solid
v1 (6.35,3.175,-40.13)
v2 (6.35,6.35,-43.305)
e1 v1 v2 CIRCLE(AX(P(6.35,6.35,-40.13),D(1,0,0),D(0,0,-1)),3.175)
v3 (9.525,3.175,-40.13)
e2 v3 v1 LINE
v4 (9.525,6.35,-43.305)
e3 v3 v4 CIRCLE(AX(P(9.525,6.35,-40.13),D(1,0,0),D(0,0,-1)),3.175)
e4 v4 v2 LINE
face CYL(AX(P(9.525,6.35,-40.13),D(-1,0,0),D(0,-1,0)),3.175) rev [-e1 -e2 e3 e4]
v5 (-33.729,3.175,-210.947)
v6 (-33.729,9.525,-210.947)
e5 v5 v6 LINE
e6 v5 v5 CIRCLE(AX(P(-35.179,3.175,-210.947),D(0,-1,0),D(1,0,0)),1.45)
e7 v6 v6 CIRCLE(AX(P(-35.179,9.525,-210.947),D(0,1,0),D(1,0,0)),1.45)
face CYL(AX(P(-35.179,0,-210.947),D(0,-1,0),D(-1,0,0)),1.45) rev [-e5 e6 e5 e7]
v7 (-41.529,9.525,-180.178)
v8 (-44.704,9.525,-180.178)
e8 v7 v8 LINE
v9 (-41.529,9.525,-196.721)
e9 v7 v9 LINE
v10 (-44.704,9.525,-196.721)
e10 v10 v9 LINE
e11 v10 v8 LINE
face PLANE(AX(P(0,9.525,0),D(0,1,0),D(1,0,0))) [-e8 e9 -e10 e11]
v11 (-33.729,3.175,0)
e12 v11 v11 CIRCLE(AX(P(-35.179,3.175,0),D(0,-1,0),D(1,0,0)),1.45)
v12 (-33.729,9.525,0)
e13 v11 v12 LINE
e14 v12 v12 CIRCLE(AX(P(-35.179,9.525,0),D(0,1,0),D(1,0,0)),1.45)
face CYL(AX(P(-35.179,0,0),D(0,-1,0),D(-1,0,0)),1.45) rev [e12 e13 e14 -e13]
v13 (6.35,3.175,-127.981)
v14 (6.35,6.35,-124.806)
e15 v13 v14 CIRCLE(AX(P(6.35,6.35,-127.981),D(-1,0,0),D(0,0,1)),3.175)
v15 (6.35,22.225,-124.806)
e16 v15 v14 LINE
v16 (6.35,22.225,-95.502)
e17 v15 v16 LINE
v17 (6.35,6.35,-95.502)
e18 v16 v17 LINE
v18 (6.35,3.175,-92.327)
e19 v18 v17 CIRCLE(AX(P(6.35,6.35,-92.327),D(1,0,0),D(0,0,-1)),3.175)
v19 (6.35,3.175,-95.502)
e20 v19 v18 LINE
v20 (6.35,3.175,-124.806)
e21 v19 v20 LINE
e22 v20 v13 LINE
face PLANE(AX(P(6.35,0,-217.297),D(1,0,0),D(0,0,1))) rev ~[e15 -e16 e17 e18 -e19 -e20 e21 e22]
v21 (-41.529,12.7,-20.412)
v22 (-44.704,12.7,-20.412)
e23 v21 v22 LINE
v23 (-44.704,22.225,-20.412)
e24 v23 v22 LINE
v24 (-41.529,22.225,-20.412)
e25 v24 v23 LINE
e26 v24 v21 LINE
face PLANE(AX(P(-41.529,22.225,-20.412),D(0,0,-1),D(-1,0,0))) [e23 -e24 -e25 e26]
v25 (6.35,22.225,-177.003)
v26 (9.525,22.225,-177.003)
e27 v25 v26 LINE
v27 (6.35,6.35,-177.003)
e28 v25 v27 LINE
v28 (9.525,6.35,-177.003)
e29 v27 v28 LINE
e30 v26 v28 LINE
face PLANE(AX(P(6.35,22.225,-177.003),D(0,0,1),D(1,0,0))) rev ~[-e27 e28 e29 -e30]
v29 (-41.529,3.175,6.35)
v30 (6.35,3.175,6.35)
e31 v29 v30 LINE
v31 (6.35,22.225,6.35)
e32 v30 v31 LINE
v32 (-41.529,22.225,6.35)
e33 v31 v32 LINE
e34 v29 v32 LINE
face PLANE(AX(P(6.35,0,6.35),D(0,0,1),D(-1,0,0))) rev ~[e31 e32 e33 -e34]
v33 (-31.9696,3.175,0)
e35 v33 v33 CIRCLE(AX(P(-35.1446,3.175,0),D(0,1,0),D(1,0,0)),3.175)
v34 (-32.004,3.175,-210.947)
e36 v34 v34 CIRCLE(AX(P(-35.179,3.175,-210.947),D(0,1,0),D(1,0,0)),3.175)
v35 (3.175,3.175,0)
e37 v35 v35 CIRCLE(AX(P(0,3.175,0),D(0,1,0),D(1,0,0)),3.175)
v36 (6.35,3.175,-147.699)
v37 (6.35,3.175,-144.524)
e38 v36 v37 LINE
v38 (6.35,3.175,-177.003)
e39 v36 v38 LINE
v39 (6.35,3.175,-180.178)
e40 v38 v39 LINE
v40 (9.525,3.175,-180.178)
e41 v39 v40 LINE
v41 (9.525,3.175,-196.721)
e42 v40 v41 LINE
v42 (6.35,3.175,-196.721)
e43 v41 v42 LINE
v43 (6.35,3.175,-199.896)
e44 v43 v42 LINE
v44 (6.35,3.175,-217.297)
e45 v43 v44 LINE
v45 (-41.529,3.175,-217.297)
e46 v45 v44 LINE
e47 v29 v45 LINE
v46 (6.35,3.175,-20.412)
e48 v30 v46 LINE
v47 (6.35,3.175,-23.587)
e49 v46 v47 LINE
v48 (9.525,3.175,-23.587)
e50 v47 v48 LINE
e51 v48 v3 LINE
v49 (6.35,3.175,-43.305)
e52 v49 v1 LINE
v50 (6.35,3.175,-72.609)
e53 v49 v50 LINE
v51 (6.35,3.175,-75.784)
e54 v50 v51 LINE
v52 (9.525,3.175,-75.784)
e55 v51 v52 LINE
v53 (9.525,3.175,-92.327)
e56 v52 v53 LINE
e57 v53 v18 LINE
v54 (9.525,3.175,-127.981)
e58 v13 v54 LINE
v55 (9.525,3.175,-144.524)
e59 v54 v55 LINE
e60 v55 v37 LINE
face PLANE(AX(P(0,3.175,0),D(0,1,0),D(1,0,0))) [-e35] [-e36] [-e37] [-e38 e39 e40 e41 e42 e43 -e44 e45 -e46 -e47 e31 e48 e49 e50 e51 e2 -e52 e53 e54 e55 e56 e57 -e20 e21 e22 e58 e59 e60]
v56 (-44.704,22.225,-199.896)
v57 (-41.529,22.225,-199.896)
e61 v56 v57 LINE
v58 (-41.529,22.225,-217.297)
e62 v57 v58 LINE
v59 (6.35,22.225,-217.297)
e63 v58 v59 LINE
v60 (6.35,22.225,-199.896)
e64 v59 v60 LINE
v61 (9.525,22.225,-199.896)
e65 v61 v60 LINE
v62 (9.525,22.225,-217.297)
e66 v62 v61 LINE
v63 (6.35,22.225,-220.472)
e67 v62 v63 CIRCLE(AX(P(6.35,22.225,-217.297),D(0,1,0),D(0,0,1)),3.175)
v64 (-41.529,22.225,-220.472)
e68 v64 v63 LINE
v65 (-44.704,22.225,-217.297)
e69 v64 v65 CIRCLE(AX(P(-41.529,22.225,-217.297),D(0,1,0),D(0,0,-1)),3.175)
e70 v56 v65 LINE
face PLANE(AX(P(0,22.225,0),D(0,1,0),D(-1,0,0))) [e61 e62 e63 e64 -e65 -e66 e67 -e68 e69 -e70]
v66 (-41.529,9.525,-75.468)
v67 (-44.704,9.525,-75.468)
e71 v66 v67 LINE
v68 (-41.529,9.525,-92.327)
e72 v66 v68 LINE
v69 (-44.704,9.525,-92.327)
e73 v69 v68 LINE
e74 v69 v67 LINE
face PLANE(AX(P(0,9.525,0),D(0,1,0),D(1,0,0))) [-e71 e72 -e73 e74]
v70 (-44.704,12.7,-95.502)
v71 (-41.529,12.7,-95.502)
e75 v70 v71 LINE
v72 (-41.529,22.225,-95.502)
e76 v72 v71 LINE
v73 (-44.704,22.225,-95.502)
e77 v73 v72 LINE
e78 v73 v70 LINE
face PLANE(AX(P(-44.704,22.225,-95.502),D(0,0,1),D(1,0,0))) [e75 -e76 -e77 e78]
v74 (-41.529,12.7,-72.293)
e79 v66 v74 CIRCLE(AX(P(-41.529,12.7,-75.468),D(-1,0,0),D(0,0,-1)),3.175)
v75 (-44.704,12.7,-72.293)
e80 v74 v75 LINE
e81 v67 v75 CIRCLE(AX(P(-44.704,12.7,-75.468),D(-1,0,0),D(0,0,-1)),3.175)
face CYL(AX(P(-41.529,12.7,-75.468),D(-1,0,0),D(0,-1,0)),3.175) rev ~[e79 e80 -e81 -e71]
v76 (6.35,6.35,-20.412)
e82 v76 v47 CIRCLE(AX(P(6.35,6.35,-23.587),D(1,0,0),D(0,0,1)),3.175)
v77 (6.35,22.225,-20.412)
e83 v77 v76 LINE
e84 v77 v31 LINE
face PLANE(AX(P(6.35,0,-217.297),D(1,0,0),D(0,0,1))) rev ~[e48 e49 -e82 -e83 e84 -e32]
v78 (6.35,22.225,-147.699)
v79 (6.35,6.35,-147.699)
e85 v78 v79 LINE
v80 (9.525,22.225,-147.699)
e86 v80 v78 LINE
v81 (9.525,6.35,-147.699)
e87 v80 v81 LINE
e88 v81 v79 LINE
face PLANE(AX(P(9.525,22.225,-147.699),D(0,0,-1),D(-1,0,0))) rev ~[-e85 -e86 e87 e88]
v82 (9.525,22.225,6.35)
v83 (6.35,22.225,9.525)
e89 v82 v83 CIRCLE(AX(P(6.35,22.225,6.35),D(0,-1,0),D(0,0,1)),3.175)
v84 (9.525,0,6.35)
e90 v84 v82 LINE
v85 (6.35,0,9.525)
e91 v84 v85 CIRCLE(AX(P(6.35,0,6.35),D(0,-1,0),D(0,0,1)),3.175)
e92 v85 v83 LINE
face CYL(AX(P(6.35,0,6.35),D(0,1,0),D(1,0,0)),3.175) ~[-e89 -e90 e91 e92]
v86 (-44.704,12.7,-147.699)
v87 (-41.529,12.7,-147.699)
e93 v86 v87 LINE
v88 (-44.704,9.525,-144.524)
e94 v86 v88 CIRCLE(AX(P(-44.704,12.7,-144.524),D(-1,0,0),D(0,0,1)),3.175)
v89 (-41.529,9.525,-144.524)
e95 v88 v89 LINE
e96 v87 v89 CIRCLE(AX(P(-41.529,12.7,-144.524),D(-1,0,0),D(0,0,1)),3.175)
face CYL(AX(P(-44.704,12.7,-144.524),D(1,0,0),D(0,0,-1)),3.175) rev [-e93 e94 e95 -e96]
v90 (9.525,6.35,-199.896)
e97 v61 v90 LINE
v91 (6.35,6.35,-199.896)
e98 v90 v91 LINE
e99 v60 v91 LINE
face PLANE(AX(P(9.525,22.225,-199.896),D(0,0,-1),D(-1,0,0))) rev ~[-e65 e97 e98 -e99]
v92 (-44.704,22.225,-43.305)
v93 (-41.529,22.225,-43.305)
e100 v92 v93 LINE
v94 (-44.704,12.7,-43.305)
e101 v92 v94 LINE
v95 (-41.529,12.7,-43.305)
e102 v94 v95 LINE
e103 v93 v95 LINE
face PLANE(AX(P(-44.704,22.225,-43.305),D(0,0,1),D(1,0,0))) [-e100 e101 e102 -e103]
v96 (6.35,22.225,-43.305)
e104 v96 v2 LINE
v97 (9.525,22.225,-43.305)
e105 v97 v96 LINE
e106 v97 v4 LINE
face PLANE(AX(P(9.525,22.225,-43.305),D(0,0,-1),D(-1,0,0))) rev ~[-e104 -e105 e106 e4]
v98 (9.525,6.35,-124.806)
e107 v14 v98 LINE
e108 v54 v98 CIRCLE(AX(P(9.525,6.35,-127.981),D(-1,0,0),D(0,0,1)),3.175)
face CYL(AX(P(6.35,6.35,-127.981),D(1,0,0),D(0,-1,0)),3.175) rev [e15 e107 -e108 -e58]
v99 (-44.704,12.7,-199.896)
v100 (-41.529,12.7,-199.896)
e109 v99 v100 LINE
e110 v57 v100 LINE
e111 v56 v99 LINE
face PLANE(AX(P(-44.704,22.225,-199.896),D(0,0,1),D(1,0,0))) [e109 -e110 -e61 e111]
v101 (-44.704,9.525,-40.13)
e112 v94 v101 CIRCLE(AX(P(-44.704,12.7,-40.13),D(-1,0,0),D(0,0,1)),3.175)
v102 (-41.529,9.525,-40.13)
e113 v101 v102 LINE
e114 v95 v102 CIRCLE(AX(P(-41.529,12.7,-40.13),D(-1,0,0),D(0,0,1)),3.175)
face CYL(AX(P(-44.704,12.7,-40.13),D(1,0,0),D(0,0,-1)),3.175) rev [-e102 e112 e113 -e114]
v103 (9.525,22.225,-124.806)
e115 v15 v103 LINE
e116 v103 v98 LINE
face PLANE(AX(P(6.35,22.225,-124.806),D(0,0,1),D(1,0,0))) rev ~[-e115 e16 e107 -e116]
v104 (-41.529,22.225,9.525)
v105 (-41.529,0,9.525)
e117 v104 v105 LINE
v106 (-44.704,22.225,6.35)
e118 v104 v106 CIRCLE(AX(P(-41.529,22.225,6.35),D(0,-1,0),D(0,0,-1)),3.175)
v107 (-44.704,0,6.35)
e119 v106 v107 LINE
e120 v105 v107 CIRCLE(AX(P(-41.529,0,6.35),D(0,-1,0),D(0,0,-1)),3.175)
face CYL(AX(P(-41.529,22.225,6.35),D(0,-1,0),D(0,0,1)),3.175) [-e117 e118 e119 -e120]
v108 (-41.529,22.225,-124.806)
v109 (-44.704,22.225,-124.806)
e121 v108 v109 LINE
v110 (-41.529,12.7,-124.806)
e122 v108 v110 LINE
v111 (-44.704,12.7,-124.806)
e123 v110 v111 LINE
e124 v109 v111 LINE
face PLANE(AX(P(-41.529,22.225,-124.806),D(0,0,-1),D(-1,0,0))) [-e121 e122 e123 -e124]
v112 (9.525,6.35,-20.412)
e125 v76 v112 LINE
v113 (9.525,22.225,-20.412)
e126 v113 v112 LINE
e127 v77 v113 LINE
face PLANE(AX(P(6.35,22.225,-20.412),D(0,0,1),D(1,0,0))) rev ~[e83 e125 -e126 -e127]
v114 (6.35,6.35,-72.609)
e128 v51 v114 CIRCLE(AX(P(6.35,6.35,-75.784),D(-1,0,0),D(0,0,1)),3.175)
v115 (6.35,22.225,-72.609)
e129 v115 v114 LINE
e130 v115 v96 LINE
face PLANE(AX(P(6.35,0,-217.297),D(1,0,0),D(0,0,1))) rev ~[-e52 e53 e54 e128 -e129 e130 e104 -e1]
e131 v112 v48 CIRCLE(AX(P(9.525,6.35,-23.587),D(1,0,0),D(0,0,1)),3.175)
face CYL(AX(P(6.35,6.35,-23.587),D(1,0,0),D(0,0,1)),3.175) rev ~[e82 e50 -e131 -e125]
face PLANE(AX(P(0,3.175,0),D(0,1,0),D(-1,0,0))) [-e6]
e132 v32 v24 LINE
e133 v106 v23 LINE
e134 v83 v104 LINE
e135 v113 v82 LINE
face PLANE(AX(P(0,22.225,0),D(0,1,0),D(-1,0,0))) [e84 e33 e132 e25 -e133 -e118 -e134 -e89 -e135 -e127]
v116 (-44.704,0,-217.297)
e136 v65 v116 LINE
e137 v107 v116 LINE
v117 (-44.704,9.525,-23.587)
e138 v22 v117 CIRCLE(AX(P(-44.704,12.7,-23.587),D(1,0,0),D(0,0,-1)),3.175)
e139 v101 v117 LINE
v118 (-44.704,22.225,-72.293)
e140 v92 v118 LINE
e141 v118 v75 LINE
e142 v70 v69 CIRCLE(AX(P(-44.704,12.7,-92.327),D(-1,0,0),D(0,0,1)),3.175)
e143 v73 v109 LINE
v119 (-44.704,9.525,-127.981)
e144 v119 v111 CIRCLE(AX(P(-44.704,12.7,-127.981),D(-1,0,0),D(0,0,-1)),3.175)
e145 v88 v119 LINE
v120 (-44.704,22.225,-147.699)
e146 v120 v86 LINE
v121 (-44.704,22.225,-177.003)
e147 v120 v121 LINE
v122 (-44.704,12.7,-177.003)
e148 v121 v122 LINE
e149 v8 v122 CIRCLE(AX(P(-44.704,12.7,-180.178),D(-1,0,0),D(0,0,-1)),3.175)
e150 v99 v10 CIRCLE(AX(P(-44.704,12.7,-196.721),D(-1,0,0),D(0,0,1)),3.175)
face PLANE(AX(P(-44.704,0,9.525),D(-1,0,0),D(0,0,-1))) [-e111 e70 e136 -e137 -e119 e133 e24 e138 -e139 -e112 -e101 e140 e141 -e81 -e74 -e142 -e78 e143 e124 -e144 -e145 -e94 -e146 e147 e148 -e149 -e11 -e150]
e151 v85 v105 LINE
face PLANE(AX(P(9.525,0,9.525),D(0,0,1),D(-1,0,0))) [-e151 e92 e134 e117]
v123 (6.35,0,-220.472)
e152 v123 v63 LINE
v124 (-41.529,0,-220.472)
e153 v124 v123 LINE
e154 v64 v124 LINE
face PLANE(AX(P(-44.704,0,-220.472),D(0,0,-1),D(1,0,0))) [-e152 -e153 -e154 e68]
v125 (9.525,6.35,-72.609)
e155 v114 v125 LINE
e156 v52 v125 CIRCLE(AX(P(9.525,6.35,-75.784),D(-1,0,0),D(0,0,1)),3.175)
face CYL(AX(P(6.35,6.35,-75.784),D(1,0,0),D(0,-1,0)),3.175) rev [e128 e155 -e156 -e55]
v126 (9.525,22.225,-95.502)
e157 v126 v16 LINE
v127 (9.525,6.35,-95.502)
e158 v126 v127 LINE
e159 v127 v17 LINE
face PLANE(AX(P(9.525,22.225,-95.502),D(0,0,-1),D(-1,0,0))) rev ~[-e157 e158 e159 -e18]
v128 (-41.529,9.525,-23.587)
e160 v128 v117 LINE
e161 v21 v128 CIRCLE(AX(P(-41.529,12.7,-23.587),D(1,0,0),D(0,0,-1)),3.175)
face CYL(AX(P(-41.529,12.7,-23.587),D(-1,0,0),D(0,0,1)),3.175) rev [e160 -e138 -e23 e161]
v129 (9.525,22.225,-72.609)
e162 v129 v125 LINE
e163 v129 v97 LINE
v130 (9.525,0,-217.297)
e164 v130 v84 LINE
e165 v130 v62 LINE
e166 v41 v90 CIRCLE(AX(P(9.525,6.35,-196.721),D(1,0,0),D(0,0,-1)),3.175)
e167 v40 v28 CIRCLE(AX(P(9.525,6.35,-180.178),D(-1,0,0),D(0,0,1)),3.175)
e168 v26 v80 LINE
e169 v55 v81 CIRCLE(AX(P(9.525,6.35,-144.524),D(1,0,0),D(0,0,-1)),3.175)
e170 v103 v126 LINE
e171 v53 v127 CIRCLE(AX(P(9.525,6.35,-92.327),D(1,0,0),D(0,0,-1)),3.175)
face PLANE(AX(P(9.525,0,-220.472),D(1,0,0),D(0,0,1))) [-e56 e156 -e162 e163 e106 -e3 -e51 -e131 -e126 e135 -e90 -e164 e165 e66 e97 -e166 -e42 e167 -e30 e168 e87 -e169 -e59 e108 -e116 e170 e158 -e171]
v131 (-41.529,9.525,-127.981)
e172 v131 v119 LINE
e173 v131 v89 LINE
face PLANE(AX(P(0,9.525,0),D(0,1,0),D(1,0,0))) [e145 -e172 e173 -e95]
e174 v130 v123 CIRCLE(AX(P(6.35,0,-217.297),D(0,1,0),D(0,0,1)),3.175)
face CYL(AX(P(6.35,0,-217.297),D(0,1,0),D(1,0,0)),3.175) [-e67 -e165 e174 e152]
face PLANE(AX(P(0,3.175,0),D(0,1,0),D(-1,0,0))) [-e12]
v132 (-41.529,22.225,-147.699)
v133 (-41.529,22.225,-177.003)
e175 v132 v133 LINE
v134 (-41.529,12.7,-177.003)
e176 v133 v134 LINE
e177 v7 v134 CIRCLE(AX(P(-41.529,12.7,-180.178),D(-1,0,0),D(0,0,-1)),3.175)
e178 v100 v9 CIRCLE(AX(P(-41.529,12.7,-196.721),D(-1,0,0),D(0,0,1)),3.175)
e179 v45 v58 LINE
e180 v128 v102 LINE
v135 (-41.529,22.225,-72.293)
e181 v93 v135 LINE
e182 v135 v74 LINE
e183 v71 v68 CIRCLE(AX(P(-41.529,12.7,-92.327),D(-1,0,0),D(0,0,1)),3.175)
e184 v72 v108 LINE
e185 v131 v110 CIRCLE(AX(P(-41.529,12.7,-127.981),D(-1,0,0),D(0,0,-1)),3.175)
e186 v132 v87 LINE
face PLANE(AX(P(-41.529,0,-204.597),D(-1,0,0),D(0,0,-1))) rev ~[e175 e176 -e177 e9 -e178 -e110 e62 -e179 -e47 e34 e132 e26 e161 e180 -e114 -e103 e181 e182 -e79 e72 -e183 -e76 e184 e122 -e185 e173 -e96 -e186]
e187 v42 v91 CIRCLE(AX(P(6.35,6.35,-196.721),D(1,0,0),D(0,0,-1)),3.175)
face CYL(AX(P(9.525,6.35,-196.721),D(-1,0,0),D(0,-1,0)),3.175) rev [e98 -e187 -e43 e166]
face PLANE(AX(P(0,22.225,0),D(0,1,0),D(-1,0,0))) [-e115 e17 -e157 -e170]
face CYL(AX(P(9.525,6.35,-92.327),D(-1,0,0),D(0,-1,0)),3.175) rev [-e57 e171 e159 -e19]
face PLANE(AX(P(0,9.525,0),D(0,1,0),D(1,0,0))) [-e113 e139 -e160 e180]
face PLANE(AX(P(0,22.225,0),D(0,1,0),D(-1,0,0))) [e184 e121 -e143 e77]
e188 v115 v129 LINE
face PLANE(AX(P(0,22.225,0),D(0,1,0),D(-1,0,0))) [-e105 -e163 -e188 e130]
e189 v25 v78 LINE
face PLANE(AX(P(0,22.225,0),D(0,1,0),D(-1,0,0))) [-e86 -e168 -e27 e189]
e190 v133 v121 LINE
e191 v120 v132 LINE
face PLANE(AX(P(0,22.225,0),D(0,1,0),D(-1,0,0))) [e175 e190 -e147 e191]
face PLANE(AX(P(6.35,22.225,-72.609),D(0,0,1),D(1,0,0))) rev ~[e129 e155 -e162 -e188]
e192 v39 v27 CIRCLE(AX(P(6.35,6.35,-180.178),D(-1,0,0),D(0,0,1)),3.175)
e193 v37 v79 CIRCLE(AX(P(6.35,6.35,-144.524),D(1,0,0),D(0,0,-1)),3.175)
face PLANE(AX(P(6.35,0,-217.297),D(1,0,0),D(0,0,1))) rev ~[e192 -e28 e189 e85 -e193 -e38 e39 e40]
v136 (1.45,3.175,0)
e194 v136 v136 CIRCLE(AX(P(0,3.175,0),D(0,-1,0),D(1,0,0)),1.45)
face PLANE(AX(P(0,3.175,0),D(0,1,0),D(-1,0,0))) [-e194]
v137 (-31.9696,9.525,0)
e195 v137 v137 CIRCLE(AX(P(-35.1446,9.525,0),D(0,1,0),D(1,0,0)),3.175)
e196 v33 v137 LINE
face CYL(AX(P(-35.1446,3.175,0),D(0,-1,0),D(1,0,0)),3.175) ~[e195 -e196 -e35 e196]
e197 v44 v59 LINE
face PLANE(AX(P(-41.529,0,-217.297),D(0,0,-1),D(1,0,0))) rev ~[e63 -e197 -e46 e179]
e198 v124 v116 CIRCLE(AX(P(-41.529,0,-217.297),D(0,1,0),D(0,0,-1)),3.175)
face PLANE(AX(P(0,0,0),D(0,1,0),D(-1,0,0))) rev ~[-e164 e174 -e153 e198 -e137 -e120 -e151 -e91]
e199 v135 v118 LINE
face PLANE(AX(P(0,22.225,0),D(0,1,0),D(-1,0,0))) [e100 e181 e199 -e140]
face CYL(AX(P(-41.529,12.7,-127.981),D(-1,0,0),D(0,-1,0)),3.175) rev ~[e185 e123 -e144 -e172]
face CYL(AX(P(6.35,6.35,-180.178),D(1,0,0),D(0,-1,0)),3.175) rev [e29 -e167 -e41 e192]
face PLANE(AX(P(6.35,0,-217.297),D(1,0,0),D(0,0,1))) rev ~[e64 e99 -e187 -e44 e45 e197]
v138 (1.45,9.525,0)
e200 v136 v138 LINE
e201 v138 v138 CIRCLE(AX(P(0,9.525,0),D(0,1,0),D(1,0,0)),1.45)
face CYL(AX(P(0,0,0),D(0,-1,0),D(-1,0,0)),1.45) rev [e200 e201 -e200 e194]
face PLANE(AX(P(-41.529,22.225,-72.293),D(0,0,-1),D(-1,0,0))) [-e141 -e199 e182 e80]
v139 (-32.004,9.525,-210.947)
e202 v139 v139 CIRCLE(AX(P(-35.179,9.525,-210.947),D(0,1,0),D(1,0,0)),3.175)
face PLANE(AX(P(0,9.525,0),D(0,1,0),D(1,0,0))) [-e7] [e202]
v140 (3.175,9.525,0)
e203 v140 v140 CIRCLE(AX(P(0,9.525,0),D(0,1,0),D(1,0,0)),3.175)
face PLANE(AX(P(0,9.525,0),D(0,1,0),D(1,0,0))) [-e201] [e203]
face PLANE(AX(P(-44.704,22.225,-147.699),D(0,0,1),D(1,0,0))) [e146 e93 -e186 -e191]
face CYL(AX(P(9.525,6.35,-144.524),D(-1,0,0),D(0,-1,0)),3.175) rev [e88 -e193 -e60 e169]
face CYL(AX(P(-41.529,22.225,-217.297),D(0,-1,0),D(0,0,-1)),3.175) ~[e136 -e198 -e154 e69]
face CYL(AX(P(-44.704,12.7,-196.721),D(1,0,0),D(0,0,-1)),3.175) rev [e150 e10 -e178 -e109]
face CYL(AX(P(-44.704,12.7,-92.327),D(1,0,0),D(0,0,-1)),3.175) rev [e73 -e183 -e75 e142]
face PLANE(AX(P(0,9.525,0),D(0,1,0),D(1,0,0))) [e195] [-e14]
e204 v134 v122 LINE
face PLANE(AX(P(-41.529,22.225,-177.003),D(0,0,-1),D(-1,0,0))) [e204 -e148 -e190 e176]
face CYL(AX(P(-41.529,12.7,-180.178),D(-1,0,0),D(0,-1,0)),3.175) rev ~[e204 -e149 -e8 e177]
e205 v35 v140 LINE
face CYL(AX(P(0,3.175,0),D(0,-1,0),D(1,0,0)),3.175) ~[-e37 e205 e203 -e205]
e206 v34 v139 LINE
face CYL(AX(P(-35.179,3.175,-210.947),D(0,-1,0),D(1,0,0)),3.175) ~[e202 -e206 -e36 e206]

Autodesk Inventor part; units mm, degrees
ref_plane "YZ Plane" through (0, 0, 0) normal (1, 0, 0) x (0, 1, 0)
ref_plane "XZ Plane" through (0, 0, 0) normal (0, 1, 0) x (-1, 0, 0)
ref_plane "XY Plane" through (0, 0, 0) normal (0, 0, 1) x (1, 0, 0)
sketch "Sketch1" plane through (0, 0, 0) normal (0, 1, 0) x (-1, 0, 0)
  line L0 (0, 0) -> (35.179, 0)
  line L1 (35.179, 0) -> (35.179, -210.947)
  line L2 (35.179, -210.947) -> (0, -210.947)
  line L3 (0, -210.947) -> (0, 0)
  circle A0 centre (35.179, 0) radius 1.45
  circle A1 centre (0, 0) radius 1.45
  circle A2 centre (35.179, -210.947) radius 1.45
  line L4 (-6.35, 6.35) -> (41.529, 6.35)
  line L5 (41.529, 6.35) -> (41.529, -217.297)
  line L6 (41.529, -217.297) -> (-6.35, -217.297)
  line L7 (-6.35, -217.297) -> (-6.35, 6.35)
  line L8 (-6.35, 6.35) -> (41.529, -217.297) construction
  line L9 (41.529, 6.35) -> (-6.35, -217.297) construction
  line L10 (28.829, -204.597) -> (41.529, -204.597)
  line L11 (41.529, -204.597) -> (41.529, -217.297)
  line L12 (41.529, -217.297) -> (28.829, -217.297)
  line L13 (28.829, -217.297) -> (28.829, -204.597)
  line L14 (28.829, -204.597) -> (41.529, -217.297) construction
  line L15 (41.529, -204.597) -> (28.829, -217.297) construction
  line L16 (-9.525, 9.525) -> (44.704, 9.525)
  line L17 (44.704, 9.525) -> (44.704, -220.472)
  line L18 (44.704, -220.472) -> (-9.525, -220.472)
  line L19 (-9.525, -220.472) -> (-9.525, 9.525)
  line L20 (-9.525, 9.525) -> (44.704, -220.472) construction
  line L21 (44.704, 9.525) -> (-9.525, -220.472) construction
  point P0 (17.5895, -105.4735)
  point P1 (17.5895, -105.4735)
  dimension "d0" = 35.179
  dimension "d1" = 210.947
  dimension "d2" = 2.9
  dimension "d3" = 2.9
  dimension "d4" = 2.9
  dimension "d6" = 12.7
  dimension "d7" = 12.7
  dimension "d8" = 3.175
  dimension "d9" = 3.175
extrude "Extrusion1" add sketch "Sketch1" along normal blind 3.175 contours A1 L3 L2 L13 L6 L7 L4 L5 L10 L1 A0 L0 | L0 A0 L1 L10 L13 L2 L3 A1 | L13 L10 L1 A2 L2 | L2 A2 L1 L10 L5 L6 L13 | L16 L17 L18 L19
extrude "Extrusion2" add sketch "Sketch1" along normal blind 22.225
sketch "Sketch2" plane through (0, 3.175, 0) normal (0, 1, 0) x (1, 0, 0)
  circle A0 centre (-35.1446, 0) radius 3.175
  circle A1 centre (0, 0) radius 3.175
  circle A2 centre (-35.179, 0) radius 1.45 projected
  circle A3 centre (0, 0) radius 1.45 projected
  circle A4 centre (-35.179, 210.947) radius 1.45 projected
  circle A5 centre (-35.179, 210.947) radius 3.175
  point P0 (0, 210.947)
  dimension "d14" = 6.35
  dimension "d15" = 6.35
  dimension "d20" = 6.35
extrude "Extrusion3" add sketch "Sketch2" along normal blind 6.35
extrude "Extrusion4" add sketch "Sketch1" along normal blind 3.175 contours L3 A1 L0 | L0 A1 L3 | A0 L1 L0 | L0 L1 A0 | A2 L1 L2 | L2 L1 A2
sketch "Sketch3" plane through (0, 22.225, 0) normal (0, 1, 0) x (1, 0, 0)
  circle A0 centre (-25.011, 12.319) radius 6.5
  circle A1 centre (-25.011, 50.292) radius 6.5
  circle A2 centre (-25.011, 64.516) radius 6.5
  circle A3 centre (-25.011, 102.489) radius 6.5
  circle A4 centre (-25.011, 116.713) radius 6.5
  circle A5 centre (-25.011, 154.686) radius 6.5
  circle A6 centre (-25.011, 168.91) radius 6.5
  circle A7 centre (-25.011, 206.883) radius 6.5
  line L0 (-9.707, 199.896) -> (-9.707, 209.896)
  line L1 (-9.707, 209.896) -> (2.293, 209.896)
  line L2 (2.293, 209.896) -> (2.293, 199.896)
  line L3 (2.293, 199.896) -> (-9.707, 199.896)
  line L4 (-9.707, 177.003) -> (2.293, 177.003)
  line L5 (-9.707, 167.003) -> (-9.707, 177.003)
  line L6 (2.293, 167.003) -> (-9.707, 167.003)
  line L7 (2.293, 177.003) -> (2.293, 167.003)
  line L8 (2.293, 157.699) -> (2.293, 147.699)
  line L9 (-9.707, 157.699) -> (2.293, 157.699)
  line L10 (2.293, 147.699) -> (-9.707, 147.699)
  line L11 (-9.707, 147.699) -> (-9.707, 157.699)
  line L12 (-9.707, 124.806) -> (2.293, 124.806)
  line L13 (-9.707, 114.806) -> (-9.707, 124.806)
  line L14 (2.293, 114.806) -> (-9.707, 114.806)
  line L15 (2.293, 124.806) -> (2.293, 114.806)
  line L16 (-9.707, 105.502) -> (2.293, 105.502)
  line L17 (2.293, 105.502) -> (2.293, 95.502)
  line L18 (-9.707, 95.502) -> (-9.707, 105.502)
  line L19 (2.293, 95.502) -> (-9.707, 95.502)
  line L20 (-9.707, 72.609) -> (2.293, 72.609)
  line L21 (-9.707, 62.609) -> (-9.707, 72.609)
  line L22 (2.293, 62.609) -> (-9.707, 62.609)
  line L23 (2.293, 72.609) -> (2.293, 62.609)
  line L24 (-9.707, 53.305) -> (2.293, 53.305)
  line L25 (-9.707, 43.305) -> (-9.707, 53.305)
  line L26 (2.293, 43.305) -> (-9.707, 43.305)
  line L27 (2.293, 53.305) -> (2.293, 43.305)
  line L28 (-9.707, 20.412) -> (2.293, 20.412)
  line L29 (2.293, 20.412) -> (2.293, 10.412)
  line L30 (2.293, 10.412) -> (-9.707, 10.412)
  line L31 (-9.707, 10.412) -> (-9.707, 20.412)
  line L32 (-17.686, -1.671) -> (-20.286, -1.671)
  line L33 (-23.811, 2.214) -> (-23.811, 0.214)
  line L34 (-14.161, 2.214) -> (-14.161, 0.214)
  line L35 (-18.511, 3.894) -> (-17.511, 3.894)
  line L36 (-20.461, 3.894) -> (-19.461, 3.894)
  line L37 (-35.859, 30.096) -> (-35.859, 20.096)
  line L38 (-35.859, 42.669) -> (-35.859, 32.669)
  line L39 (-35.859, 82.293) -> (-35.859, 72.293)
  line L40 (-35.859, 94.866) -> (-35.859, 84.866)
  line L41 (-35.859, 134.49) -> (-35.859, 124.49)
  line L42 (-35.859, 147.063) -> (-35.859, 137.063)
  line L43 (-35.859, 186.687) -> (-35.859, 176.687)
  line L44 (-35.859, 199.26) -> (-35.859, 189.26)
  line L45 (-17.0795, 187.3678) -> (-17.0795, 189.3599)
  line L46 (-13.5395, 185.2639) -> (-17.0795, 185.2639)
  line L47 (-17.0795, 191.4639) -> (-13.5395, 191.4639)
  line L48 (-13.5395, 191.4639) -> (-13.5395, 185.2639)
  line L49 (-13.5395, 139.2668) -> (-13.5395, 133.0668)
  line L50 (-17.0795, 139.2668) -> (-13.5395, 139.2668)
  line L51 (-17.0795, 135.1708) -> (-17.0795, 137.1629)
  line L52 (-13.5395, 133.0668) -> (-17.0795, 133.0668)
  line L53 (-13.5395, 87.0699) -> (-13.5395, 80.8699)
  line L54 (-13.5395, 80.8699) -> (-17.0795, 80.8699)
  line L55 (-17.0795, 87.0699) -> (-13.5395, 87.0699)
  line L56 (-17.0795, 82.9738) -> (-17.0795, 84.9659)
  line L57 (-17.0795, 30.7768) -> (-17.0795, 32.7689)
  line L58 (-13.5395, 28.6728) -> (-17.0795, 28.6728)
  line L59 (-17.0795, 34.8728) -> (-13.5395, 34.8728)
  line L60 (-13.5395, 34.8728) -> (-13.5395, 28.6728)
  line L61 (3.1921, 139.1709) -> (3.1921, 133.1709)
  line L62 (3.1921, 86.9739) -> (3.1921, 80.9739)
  line L63 (3.1921, 34.7769) -> (3.1921, 28.7769)
  line L64 (3.1921, 191.3679) -> (3.1921, 185.3679)
  circle A8 centre (-35.179, 0) radius 1.702
  circle A9 centre (0, 0) radius 1.702
  circle A10 centre (-35.179, 210.947) radius 1.702
  line L65 (9.525, 220.472) -> (-44.704, 220.472) projected
  line L66 (-44.704, 220.472) -> (-44.704, -9.525) projected
  line L67 (-44.704, -9.525) -> (9.525, -9.525) projected
  line L68 (9.525, -9.525) -> (9.525, 220.472) projected
  line L69 (6.35, -6.35) -> (-41.529, -6.35) projected
  line L70 (-41.529, -6.35) -> (-41.529, 217.297) projected
  line L71 (-41.529, 217.297) -> (6.35, 217.297) projected
  line L72 (6.35, 217.297) -> (6.35, -6.35) projected
  line L73 (9.525, -9.525) -> (9.525, 220.472) projected
  line L74 (6.35, 20.412) -> (9.525, 20.412)
  line L75 (9.525, 20.412) -> (9.525, 43.305)
  line L76 (9.525, 43.305) -> (6.35, 43.305)
  line L77 (6.35, 43.305) -> (6.35, 20.412)
  line L78 (6.35, 217.297) -> (6.35, -6.35) projected
  line L79 (6.35, 72.609) -> (9.525, 72.609)
  line L80 (9.525, 72.609) -> (9.525, 95.502)
  line L81 (9.525, 95.502) -> (6.35, 95.502)
  line L82 (6.35, 95.502) -> (6.35, 72.609)
  line L83 (6.35, 124.806) -> (9.525, 124.806)
  line L84 (9.525, 124.806) -> (9.525, 147.699)
  line L85 (9.525, 147.699) -> (6.35, 147.699)
  line L86 (6.35, 147.699) -> (6.35, 124.806)
  line L87 (6.35, 177.003) -> (9.525, 177.003)
  line L88 (9.525, 177.003) -> (9.525, 199.896)
  line L89 (9.525, 199.896) -> (6.35, 199.896)
  line L90 (6.35, 199.896) -> (6.35, 177.003)
  line L91 (-41.529, 217.297) -> (-41.529, -6.35) projected
  line L92 (-44.704, 220.472) -> (-44.704, -9.525) projected
  line L93 (-41.529, 20.412) -> (-44.704, 20.412)
  line L94 (-44.704, 20.412) -> (-44.704, 43.305)
  line L95 (-44.704, 43.305) -> (-41.529, 43.305)
  line L96 (-41.529, 43.305) -> (-41.529, 20.412)
  line L97 (-41.529, 72.293) -> (-44.704, 72.293)
  line L98 (-44.704, 72.293) -> (-44.704, 95.502)
  line L99 (-44.704, 95.502) -> (-41.529, 95.502)
  line L100 (-41.529, 95.502) -> (-41.529, 72.293)
  line L101 (-41.529, 124.806) -> (-44.704, 124.806)
  line L102 (-44.704, 124.806) -> (-44.704, 147.699)
  line L103 (-44.704, 147.699) -> (-41.529, 147.699)
  line L104 (-41.529, 147.699) -> (-41.529, 124.806)
  line L105 (-41.529, 177.003) -> (-44.704, 177.003)
  line L106 (-44.704, 177.003) -> (-44.704, 199.896)
  line L107 (-44.704, 199.896) -> (-41.529, 199.896)
  line L108 (-41.529, 199.896) -> (-41.529, 177.003)
  point P0 (0, 0)
extrude "Extrusion5" cut sketch "Sketch3" against normal blind 12.7 contours L107 L70 L105 L66 | L103 L70 L101 L66 | L99 L70 L97 L66 | L95 L70 L93 L66
extrude "Extrusion6" cut sketch "Sketch3" against normal up to surface (19.05 mm away) contours L68 L87 L72 L89 | L68 L83 L72 L85 | L68 L79 L72 L81 | L68 L74 L72 L76
fillet "Fillet1" radius 3.175 16 edges at (7.9375, 3.175, -20.412) (7.9375, 3.175, -43.305) (7.9375, 3.175, -72.609) (7.9375, 3.175, -95.502) (7.9375, 3.175, -124.806) (7.9375, 3.175, -147.699) (7.9375, 3.175, -199.896) (7.9375, 3.175, -177.003) (-43.1165, 9.525, -20.412) (-43.1165, 9.525, -43.305) (-43.1165, 9.525, -95.502) (-43.1165, 9.525, -147.699) (-43.1165, 9.525, -199.896) (-43.1165, 9.525, -72.293) (-43.1165, 9.525, -124.806) (-43.1165, 9.525, -177.003)
fillet "Fillet2" radius 3.175 4 edges at (9.525, 11.1125, 9.525) (9.525, 11.1125, -220.472) (-44.704, 11.1125, -220.472) (-44.704, 11.1125, 9.525)
properties part number "Box"
